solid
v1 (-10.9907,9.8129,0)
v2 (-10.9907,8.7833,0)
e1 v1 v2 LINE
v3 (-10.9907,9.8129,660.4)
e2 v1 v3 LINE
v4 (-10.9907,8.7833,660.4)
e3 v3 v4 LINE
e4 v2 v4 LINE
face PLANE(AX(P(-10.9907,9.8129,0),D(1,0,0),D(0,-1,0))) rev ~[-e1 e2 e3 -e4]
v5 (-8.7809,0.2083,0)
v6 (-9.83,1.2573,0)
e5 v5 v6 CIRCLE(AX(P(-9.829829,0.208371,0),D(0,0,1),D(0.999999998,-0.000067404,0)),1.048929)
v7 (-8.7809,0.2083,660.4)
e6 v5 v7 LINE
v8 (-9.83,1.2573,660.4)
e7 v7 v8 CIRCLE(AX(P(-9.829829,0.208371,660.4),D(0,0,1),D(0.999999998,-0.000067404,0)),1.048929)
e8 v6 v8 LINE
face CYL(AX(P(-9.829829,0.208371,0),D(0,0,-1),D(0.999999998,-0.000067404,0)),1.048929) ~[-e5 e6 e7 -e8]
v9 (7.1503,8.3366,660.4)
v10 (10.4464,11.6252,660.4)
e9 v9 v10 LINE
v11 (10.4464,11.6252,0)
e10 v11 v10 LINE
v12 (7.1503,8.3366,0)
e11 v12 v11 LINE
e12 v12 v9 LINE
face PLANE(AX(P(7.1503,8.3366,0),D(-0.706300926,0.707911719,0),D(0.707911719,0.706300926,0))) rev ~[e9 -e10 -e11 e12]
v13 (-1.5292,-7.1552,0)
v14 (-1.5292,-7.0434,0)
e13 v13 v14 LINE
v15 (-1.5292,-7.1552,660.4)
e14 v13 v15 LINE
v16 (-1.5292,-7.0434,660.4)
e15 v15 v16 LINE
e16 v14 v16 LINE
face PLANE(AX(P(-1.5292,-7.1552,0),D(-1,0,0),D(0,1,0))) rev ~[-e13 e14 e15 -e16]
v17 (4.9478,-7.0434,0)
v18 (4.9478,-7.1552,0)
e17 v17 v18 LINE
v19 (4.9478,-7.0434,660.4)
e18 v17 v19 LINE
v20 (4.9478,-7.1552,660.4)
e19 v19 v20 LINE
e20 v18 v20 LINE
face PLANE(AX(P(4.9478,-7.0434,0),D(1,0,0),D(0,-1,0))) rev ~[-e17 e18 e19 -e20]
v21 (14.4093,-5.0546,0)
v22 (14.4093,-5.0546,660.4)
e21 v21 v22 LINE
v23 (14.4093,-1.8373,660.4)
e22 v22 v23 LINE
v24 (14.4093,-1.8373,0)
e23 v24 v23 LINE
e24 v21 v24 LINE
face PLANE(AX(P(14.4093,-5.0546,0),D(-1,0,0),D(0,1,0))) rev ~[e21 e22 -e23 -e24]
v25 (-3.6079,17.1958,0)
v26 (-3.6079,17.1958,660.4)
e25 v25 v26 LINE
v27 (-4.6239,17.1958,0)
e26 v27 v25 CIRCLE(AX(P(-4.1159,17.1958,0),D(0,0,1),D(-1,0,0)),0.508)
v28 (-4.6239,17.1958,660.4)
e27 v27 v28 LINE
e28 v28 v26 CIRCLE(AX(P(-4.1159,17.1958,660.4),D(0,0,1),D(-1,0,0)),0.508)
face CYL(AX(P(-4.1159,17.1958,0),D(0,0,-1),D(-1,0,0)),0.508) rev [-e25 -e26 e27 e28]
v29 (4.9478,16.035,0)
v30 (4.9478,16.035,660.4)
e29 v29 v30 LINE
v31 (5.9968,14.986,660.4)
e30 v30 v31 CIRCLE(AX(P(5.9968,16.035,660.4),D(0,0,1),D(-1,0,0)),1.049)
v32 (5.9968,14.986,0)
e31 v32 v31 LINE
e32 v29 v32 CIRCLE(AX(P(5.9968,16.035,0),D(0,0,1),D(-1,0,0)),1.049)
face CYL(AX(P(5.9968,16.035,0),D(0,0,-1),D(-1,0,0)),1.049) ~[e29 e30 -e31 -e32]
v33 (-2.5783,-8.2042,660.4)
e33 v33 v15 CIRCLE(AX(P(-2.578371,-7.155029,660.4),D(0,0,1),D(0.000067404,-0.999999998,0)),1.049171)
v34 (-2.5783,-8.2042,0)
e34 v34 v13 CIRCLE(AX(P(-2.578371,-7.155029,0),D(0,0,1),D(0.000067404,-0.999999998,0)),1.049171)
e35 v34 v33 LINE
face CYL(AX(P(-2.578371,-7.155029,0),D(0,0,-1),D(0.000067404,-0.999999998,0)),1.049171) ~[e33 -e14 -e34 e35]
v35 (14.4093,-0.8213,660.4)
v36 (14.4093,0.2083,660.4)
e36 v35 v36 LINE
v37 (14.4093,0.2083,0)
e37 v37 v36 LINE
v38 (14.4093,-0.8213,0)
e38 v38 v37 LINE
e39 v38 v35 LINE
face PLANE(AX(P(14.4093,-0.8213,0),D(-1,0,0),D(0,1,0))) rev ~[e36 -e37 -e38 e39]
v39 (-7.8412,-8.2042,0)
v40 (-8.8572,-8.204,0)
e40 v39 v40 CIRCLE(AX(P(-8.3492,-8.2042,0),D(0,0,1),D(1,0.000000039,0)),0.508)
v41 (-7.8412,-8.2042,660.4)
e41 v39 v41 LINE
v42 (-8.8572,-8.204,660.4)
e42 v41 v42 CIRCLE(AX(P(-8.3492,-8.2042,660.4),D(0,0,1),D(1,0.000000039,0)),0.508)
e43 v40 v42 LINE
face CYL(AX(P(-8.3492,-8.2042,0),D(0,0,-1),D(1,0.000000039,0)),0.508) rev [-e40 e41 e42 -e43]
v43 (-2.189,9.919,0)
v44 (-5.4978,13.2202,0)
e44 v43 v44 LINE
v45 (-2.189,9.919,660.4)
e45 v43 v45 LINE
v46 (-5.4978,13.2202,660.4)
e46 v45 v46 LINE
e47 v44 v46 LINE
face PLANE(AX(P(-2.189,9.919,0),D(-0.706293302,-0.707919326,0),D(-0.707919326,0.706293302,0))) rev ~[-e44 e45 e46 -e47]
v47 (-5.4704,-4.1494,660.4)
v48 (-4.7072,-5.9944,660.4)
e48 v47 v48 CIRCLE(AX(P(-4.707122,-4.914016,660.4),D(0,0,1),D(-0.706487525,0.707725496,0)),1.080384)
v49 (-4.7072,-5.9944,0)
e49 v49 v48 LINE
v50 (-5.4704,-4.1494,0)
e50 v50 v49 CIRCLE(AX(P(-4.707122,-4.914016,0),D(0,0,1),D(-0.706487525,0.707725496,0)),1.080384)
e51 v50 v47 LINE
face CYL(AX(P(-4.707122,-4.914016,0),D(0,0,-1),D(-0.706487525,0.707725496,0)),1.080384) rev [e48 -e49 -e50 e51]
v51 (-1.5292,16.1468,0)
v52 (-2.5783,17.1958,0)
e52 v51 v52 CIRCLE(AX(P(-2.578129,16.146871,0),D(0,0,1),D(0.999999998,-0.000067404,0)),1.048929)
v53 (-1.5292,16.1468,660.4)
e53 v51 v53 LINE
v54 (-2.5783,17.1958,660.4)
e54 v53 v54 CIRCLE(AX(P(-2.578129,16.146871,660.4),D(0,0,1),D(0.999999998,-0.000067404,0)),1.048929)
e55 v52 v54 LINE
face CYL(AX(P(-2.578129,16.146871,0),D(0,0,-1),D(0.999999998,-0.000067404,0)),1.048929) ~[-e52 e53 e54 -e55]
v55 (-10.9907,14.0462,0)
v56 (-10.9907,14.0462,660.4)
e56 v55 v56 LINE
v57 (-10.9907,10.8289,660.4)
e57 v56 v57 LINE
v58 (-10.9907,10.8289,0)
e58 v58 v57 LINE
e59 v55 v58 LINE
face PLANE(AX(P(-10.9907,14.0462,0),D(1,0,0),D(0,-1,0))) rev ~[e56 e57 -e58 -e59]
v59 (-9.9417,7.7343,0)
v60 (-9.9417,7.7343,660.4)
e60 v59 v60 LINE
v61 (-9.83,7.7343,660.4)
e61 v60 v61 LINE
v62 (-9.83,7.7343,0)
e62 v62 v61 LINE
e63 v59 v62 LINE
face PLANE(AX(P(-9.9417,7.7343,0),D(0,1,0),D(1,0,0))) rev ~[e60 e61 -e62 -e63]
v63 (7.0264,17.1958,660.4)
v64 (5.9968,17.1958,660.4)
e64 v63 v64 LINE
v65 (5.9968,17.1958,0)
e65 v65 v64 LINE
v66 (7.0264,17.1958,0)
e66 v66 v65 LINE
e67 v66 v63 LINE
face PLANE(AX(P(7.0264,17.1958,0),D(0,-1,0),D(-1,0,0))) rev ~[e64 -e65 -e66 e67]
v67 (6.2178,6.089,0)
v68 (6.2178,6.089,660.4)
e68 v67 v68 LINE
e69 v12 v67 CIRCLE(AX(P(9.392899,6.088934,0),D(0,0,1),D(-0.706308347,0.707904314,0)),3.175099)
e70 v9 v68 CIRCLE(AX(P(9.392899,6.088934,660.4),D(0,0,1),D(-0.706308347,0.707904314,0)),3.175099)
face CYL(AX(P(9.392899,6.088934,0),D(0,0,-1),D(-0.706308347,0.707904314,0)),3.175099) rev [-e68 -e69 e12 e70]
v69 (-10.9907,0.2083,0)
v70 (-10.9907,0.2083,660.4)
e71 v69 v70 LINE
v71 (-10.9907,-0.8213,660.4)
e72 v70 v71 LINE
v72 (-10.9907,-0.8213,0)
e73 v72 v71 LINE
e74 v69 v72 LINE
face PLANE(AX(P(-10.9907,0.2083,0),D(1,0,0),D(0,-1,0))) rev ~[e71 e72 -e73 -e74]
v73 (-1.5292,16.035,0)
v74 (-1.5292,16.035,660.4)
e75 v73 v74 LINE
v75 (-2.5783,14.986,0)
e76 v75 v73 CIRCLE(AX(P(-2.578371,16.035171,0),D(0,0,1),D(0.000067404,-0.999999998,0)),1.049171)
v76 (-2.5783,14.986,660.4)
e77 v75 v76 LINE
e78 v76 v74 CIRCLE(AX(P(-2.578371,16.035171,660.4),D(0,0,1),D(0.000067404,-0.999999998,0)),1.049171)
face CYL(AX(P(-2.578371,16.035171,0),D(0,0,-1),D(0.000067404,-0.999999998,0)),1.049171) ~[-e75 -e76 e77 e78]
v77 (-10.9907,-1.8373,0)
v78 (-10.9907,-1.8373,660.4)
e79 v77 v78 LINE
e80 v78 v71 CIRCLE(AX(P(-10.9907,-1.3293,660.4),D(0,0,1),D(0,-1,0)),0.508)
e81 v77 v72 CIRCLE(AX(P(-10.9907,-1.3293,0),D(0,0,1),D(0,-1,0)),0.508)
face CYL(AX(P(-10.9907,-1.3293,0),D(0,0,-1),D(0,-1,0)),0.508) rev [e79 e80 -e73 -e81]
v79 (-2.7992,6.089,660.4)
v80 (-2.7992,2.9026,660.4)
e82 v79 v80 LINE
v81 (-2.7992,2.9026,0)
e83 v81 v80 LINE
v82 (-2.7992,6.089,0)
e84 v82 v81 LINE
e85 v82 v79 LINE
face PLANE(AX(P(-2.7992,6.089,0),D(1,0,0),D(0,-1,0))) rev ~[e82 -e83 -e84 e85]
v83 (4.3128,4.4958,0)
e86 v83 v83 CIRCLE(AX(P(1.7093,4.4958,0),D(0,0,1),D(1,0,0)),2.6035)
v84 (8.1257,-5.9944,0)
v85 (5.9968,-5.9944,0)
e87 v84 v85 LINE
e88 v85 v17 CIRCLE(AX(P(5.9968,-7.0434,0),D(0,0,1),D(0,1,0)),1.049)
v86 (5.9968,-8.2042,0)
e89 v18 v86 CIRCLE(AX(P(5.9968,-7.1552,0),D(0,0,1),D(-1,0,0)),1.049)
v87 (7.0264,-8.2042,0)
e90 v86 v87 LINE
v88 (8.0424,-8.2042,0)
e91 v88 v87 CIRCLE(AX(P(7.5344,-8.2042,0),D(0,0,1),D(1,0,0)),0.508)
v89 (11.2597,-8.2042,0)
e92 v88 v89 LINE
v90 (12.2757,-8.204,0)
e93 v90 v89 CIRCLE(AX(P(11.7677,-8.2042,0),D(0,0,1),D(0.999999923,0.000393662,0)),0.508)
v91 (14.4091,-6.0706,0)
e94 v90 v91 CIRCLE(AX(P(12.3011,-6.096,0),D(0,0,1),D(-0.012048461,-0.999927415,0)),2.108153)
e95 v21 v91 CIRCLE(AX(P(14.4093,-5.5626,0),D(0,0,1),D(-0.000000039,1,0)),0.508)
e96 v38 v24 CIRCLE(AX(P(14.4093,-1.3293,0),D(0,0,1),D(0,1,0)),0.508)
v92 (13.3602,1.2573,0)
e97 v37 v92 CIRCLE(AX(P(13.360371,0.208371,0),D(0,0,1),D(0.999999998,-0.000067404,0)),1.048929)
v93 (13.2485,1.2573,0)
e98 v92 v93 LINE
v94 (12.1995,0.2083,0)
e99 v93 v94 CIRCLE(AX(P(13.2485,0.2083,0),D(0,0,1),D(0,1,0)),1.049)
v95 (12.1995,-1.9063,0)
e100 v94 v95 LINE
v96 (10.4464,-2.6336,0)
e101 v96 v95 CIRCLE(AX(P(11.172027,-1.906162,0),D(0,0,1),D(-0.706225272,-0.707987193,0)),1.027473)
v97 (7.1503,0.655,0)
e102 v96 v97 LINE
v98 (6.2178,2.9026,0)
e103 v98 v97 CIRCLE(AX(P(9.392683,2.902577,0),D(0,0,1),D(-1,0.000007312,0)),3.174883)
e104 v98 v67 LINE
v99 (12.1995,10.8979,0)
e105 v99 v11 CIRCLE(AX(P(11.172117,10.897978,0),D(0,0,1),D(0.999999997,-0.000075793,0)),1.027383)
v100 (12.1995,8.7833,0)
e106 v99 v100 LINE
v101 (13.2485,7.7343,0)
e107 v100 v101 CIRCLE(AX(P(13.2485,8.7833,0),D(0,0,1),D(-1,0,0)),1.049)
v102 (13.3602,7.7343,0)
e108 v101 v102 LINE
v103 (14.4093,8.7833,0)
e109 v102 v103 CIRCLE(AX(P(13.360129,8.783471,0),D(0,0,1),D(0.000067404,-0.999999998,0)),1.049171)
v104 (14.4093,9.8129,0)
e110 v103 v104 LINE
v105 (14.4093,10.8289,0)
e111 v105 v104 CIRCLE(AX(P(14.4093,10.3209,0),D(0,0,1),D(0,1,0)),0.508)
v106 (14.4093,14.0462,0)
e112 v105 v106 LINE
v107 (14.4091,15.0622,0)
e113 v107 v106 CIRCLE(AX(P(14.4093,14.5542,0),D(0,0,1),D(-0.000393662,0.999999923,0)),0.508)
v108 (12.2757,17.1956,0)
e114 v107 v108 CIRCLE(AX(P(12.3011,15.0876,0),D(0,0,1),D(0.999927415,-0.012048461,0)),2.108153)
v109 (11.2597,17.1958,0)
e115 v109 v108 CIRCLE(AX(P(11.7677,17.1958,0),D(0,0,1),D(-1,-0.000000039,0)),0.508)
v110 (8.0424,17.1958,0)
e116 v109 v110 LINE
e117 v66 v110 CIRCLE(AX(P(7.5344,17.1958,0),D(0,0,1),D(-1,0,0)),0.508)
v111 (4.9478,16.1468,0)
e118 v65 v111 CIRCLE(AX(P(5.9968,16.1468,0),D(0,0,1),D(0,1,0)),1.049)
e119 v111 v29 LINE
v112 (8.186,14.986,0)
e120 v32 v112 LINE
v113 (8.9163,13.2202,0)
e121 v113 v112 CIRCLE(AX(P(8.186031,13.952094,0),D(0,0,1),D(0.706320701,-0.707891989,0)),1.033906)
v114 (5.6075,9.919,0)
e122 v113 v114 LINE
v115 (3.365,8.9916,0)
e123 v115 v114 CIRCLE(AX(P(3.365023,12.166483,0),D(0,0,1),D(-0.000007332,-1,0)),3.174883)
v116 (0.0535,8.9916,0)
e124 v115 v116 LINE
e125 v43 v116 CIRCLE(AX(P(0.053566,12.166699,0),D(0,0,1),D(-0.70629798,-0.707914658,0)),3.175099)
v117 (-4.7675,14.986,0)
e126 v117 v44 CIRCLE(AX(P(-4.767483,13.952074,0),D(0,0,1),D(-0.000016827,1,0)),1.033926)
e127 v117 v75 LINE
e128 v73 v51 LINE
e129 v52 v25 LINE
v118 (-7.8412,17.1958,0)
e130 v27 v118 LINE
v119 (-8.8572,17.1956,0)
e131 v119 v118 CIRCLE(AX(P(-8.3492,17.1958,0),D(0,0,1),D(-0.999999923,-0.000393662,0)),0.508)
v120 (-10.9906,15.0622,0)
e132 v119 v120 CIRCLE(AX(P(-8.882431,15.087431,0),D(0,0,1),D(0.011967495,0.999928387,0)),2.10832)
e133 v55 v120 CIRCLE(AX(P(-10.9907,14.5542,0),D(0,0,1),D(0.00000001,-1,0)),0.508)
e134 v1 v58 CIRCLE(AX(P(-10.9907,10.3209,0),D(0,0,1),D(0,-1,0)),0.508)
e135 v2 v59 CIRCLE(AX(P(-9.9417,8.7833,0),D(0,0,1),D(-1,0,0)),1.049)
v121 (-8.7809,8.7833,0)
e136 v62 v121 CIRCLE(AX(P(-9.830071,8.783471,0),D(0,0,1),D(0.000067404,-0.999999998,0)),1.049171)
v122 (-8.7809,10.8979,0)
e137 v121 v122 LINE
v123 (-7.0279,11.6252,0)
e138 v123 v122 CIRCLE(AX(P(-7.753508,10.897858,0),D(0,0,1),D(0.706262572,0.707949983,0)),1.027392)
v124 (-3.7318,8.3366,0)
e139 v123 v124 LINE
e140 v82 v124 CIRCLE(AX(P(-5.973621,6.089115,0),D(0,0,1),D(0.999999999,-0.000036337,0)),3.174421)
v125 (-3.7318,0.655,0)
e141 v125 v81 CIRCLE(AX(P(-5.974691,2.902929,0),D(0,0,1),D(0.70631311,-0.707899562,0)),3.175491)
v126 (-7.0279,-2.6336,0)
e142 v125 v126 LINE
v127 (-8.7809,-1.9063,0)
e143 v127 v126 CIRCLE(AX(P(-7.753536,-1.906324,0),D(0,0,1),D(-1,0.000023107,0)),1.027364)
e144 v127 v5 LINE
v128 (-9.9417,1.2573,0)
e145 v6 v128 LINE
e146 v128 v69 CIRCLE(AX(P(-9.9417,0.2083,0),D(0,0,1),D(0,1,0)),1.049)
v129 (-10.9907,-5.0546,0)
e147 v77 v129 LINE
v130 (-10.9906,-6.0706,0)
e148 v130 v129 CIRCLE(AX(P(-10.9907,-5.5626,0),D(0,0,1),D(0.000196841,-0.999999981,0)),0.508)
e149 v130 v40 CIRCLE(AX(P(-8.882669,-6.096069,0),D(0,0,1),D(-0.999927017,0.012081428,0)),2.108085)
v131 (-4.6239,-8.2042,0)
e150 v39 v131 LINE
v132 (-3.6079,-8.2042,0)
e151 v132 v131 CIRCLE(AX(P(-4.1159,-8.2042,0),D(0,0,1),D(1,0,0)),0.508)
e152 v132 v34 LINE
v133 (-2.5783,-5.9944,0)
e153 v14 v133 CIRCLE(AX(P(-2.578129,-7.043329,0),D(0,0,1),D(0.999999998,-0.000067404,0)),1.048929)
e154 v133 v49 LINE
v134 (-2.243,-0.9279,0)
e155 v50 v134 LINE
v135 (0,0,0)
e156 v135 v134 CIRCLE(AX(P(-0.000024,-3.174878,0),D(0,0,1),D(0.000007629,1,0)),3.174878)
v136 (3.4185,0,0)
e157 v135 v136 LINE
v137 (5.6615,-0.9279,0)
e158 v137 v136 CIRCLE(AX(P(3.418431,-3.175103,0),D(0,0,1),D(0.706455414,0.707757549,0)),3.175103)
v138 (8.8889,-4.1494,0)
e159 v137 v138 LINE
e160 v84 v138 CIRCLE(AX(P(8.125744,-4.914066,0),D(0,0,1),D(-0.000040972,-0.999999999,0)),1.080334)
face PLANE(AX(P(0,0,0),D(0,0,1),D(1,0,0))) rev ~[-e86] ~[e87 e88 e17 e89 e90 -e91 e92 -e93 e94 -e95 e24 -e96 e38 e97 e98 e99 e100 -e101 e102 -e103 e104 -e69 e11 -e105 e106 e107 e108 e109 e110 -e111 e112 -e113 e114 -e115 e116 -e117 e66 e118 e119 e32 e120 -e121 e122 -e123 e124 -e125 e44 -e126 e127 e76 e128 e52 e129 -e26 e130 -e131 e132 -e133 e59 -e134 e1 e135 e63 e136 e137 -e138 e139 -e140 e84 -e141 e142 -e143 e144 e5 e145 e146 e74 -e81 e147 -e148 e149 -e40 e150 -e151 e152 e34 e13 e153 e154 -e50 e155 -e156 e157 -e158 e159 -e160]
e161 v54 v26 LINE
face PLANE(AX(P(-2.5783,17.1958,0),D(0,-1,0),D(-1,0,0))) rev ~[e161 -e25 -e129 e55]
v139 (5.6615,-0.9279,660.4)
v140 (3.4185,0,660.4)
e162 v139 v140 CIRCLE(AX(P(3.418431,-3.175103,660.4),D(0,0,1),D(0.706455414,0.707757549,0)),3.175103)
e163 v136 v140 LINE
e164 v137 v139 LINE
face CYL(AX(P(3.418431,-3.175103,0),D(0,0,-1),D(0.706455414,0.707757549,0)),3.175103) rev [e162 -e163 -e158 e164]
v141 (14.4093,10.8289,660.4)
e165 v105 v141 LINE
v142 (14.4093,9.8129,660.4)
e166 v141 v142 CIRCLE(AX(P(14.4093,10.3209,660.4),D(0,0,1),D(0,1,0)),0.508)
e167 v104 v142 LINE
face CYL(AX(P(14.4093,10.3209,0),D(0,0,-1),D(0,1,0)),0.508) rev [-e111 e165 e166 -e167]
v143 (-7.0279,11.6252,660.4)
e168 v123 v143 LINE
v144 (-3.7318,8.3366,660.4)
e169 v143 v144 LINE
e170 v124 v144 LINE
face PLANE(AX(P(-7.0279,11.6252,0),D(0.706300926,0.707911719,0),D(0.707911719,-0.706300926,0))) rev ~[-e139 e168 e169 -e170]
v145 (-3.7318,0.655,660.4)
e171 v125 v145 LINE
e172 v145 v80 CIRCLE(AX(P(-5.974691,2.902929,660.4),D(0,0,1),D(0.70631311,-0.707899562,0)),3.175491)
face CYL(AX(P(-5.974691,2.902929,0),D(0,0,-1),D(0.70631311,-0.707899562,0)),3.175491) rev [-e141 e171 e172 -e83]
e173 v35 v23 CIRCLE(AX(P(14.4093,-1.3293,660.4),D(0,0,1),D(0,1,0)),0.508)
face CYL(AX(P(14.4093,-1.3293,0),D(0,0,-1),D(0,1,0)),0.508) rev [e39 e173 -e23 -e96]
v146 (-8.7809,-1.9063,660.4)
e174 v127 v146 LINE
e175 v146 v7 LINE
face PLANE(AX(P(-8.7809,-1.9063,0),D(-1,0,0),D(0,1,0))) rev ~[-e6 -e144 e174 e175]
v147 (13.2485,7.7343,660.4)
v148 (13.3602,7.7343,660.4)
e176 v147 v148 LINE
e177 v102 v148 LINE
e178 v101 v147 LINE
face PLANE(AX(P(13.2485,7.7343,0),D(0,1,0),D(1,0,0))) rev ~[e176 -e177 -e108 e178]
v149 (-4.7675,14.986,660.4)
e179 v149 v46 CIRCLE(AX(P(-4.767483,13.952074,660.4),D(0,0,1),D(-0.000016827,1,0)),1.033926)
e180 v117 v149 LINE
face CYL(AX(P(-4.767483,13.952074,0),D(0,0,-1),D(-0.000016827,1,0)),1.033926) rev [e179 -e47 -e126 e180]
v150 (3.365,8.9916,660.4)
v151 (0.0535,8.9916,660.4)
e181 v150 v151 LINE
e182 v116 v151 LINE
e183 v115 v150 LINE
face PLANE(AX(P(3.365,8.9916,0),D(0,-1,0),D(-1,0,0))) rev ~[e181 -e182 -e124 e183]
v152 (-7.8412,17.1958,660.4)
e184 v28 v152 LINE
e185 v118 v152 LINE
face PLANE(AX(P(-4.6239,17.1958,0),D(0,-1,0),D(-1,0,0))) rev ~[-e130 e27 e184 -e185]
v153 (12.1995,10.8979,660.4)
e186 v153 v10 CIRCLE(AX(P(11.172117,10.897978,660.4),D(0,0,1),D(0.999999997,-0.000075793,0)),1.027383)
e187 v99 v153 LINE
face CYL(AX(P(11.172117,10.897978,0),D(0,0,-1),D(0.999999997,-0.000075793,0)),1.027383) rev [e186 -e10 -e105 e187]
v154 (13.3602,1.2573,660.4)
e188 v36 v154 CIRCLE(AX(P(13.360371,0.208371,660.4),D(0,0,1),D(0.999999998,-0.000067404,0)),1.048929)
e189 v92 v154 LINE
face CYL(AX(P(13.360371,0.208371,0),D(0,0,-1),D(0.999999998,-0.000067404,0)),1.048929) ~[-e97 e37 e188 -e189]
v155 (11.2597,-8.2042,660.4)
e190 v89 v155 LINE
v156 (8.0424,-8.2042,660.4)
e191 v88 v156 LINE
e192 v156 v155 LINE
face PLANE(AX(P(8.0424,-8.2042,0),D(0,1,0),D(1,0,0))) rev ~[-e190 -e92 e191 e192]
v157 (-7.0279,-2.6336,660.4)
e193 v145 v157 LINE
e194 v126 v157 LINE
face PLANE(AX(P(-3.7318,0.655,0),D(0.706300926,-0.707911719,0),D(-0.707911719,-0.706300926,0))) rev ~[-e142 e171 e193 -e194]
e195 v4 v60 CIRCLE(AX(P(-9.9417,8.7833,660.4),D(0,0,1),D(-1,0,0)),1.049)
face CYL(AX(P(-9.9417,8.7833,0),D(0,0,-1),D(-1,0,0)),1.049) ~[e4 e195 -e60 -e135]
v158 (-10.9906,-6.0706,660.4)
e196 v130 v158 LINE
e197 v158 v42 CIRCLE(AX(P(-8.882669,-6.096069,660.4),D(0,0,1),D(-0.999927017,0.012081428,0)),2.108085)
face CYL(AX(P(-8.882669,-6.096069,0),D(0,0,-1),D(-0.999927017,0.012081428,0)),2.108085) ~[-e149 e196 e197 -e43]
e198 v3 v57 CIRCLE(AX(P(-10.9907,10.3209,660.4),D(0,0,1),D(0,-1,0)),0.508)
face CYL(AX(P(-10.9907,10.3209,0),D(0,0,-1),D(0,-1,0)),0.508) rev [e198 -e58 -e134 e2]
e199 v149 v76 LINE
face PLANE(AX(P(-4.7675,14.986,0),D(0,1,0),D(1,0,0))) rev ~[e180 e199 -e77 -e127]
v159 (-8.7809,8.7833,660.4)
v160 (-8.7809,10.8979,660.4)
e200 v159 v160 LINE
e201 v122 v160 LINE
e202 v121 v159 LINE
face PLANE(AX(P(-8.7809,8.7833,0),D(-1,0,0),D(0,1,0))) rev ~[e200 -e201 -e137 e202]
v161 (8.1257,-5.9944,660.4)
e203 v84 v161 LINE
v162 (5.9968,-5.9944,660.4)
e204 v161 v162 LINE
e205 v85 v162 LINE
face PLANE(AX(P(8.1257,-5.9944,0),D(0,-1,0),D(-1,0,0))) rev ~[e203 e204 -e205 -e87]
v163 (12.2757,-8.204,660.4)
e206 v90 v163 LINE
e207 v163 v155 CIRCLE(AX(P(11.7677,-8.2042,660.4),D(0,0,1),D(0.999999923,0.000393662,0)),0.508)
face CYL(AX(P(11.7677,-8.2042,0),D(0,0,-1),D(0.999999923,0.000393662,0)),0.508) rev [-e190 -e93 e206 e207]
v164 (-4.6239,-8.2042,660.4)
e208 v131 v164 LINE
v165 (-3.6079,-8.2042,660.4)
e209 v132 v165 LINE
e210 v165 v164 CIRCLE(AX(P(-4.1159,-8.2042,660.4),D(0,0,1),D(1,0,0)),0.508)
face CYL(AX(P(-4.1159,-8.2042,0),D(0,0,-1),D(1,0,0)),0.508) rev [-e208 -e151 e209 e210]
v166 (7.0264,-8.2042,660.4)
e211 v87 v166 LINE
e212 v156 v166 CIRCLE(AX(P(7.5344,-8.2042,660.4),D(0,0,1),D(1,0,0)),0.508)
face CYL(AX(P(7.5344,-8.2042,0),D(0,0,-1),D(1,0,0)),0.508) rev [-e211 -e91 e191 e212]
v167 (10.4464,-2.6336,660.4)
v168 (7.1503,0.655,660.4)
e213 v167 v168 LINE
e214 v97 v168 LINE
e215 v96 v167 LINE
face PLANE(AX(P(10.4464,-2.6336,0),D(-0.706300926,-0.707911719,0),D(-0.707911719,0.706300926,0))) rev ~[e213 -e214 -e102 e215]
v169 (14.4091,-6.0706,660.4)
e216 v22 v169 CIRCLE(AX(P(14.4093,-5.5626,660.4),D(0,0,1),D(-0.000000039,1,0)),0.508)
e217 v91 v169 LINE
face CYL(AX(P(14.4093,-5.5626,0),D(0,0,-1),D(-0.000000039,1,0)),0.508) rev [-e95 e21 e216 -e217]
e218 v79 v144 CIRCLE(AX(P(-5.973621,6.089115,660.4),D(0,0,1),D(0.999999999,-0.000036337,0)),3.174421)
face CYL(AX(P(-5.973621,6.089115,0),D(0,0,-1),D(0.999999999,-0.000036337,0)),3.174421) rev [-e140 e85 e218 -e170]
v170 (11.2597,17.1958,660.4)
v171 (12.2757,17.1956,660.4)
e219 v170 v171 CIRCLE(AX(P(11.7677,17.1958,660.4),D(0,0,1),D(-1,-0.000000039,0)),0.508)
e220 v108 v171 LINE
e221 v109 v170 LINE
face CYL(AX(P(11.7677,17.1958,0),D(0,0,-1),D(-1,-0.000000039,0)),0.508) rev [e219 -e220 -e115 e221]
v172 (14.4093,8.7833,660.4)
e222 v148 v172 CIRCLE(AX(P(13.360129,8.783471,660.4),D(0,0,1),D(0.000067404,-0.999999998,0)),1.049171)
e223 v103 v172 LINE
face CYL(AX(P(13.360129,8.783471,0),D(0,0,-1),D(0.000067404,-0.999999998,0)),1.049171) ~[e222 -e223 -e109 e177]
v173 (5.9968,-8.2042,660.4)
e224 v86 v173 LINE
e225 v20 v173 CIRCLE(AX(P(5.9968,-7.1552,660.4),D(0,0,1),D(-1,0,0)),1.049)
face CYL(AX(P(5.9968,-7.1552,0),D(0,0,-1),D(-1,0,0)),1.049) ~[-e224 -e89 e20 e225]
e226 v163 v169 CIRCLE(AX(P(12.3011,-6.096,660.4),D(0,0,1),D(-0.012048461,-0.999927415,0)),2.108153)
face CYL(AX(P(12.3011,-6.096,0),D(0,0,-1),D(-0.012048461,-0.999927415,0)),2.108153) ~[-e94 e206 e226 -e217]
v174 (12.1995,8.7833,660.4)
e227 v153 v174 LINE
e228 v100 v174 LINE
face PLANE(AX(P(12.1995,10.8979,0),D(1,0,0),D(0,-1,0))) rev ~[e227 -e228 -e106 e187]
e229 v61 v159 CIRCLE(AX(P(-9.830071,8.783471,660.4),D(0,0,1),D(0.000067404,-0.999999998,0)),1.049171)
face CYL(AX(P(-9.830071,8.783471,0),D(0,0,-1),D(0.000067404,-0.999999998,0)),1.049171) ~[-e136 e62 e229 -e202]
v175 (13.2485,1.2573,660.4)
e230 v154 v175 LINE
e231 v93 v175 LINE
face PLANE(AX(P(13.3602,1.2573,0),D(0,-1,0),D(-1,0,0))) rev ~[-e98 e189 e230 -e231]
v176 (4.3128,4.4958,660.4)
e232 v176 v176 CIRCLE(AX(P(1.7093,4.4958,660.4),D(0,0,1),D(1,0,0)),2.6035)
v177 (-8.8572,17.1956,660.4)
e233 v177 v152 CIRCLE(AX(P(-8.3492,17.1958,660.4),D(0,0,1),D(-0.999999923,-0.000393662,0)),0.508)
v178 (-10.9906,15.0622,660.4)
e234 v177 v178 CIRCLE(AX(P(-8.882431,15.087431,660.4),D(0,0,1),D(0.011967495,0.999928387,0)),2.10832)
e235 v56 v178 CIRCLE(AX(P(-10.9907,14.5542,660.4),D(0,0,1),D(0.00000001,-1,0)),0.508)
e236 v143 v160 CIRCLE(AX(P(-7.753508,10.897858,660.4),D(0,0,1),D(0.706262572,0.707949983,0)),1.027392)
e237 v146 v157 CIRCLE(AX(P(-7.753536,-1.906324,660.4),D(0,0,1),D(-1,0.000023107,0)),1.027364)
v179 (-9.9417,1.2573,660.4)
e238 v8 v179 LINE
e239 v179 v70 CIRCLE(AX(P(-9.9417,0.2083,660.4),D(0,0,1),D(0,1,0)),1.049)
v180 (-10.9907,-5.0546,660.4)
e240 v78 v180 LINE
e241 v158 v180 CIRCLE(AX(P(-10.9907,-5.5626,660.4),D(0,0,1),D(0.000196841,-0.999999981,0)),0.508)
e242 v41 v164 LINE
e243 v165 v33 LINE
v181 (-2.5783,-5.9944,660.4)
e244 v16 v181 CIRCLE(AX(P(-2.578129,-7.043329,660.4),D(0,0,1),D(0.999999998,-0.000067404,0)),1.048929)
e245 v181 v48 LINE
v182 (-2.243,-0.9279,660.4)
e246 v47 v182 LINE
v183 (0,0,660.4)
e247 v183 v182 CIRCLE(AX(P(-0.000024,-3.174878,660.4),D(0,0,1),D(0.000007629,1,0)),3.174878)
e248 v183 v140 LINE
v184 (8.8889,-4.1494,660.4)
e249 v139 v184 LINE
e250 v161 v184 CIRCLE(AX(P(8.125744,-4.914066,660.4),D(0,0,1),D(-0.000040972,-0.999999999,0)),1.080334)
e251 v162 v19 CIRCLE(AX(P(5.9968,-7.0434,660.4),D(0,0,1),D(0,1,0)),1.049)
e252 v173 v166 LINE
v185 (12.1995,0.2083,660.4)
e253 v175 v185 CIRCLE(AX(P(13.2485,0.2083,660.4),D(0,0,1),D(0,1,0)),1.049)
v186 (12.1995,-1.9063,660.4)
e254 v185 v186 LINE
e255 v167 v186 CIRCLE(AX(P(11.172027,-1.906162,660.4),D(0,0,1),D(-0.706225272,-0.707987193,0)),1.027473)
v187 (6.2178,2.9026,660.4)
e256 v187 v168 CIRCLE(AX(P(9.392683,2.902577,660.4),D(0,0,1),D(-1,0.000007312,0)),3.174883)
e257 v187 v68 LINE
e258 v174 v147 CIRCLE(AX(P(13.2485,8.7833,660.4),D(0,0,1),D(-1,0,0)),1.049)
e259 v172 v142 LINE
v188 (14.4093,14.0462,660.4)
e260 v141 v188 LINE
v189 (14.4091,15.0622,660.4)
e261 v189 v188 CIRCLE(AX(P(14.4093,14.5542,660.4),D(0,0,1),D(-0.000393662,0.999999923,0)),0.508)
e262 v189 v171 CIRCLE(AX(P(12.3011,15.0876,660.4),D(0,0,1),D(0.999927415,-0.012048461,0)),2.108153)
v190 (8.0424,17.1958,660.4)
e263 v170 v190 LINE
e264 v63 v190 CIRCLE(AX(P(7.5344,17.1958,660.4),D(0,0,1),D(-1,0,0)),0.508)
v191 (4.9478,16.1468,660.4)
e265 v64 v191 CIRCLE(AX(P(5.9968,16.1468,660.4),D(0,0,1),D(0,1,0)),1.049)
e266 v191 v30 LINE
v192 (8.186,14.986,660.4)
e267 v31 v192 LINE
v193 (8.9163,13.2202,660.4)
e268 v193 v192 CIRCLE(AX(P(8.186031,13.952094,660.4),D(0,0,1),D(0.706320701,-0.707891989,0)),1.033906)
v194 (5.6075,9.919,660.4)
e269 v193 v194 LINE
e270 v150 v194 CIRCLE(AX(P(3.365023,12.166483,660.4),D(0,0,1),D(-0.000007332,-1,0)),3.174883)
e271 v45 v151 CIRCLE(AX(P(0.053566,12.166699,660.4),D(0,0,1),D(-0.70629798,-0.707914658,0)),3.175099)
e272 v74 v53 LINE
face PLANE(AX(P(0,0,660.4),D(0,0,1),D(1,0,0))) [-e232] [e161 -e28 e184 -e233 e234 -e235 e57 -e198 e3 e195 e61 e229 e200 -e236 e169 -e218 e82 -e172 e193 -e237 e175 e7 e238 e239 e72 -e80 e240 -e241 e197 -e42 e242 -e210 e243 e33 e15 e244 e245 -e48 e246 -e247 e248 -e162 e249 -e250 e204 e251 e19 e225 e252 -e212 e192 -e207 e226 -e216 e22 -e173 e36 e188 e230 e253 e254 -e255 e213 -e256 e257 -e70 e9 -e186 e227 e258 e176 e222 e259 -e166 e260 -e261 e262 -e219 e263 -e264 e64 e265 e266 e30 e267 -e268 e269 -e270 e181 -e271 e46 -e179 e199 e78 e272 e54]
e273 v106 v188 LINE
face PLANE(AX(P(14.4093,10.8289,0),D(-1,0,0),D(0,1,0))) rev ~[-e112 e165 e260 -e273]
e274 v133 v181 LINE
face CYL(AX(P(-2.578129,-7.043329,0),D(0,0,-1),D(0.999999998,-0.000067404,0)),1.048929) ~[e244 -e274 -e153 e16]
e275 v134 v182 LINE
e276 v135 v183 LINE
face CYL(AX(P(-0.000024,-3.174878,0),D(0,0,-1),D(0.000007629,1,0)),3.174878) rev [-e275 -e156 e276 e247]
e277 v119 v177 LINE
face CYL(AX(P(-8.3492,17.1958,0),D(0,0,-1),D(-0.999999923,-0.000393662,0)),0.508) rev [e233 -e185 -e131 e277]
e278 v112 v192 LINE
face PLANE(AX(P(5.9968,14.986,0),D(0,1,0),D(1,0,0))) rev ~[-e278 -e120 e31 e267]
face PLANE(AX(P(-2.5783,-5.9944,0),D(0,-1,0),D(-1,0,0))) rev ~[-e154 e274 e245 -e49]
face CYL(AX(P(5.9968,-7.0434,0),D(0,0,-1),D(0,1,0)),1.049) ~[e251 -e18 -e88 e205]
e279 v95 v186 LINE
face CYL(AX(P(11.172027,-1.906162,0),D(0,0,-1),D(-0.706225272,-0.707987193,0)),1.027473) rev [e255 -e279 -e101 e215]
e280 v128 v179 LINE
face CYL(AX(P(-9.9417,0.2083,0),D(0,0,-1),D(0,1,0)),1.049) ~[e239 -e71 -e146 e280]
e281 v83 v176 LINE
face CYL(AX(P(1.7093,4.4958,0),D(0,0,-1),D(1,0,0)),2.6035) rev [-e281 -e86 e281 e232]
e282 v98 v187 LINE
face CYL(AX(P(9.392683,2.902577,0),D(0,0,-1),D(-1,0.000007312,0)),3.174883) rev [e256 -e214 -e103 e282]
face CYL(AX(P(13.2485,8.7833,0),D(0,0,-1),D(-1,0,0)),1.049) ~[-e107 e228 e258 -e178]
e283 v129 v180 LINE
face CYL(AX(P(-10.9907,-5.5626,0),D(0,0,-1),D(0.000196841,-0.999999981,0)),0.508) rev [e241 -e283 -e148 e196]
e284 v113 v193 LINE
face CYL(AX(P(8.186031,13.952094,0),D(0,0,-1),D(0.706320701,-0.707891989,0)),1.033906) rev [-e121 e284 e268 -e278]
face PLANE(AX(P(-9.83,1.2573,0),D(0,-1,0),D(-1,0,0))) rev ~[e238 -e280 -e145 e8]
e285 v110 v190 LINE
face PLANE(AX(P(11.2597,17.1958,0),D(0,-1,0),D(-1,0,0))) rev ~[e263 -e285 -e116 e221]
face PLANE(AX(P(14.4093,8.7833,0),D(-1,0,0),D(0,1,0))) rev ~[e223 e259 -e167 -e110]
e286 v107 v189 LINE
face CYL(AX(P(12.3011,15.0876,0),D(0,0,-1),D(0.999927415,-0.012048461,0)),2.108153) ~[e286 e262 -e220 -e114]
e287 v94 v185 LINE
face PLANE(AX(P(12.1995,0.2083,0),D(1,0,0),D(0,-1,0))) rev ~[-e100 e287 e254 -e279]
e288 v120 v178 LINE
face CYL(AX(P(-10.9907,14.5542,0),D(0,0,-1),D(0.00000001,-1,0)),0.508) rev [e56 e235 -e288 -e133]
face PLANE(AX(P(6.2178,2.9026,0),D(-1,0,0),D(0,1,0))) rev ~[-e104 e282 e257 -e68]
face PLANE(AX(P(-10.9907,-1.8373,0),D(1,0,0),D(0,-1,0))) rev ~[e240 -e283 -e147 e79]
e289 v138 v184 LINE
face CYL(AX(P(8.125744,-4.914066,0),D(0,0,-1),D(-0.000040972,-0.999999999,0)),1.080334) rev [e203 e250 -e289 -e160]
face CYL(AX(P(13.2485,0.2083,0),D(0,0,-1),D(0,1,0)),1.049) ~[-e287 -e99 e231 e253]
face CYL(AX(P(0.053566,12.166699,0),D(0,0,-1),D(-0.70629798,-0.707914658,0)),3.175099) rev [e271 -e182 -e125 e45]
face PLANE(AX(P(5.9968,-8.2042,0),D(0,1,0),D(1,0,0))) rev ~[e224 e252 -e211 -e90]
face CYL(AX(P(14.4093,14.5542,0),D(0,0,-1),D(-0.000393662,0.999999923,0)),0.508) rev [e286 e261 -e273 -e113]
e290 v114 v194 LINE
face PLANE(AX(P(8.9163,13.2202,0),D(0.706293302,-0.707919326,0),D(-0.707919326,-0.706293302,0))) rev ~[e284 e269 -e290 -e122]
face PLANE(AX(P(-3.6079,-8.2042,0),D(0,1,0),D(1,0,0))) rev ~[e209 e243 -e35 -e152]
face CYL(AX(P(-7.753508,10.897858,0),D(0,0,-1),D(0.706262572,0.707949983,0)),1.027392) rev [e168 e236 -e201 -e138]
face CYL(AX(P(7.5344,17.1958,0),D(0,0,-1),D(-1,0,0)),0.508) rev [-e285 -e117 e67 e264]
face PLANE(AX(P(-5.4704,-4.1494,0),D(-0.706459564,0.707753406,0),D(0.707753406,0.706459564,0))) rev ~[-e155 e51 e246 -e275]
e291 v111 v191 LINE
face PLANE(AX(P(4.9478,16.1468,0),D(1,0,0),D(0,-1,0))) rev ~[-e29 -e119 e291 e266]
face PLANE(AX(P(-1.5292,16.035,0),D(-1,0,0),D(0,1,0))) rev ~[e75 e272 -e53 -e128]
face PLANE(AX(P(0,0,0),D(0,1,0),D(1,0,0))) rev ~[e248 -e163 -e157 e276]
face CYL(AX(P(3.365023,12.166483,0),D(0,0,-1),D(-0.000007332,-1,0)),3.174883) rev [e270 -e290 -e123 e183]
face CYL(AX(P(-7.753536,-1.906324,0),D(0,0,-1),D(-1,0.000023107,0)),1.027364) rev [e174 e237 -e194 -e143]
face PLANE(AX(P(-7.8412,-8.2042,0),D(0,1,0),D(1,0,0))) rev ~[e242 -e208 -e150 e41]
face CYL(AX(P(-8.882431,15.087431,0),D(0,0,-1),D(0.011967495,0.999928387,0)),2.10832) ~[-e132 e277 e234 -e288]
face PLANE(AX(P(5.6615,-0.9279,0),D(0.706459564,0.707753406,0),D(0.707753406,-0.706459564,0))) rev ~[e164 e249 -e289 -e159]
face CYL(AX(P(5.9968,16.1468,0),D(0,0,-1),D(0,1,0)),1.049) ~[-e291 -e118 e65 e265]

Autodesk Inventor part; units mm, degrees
ref_plane "YZ Plane" through (0, 0, 0) normal (1, 0, 0) x (0, 1, 0)
ref_plane "XZ Plane" through (0, 0, 0) normal (0, 1, 0) x (-1, 0, 0)
ref_plane "XY Plane" through (0, 0, 0) normal (0, 0, 1) x (1, 0, 0)
sketch "Sketch1" plane through (0, 0, 0) normal (0, 0, 1) x (1, 0, 0)
  arc A0 (-5.4704, -4.1494) -> (-4.7072, -5.9944) centre (-4.7072, -4.914) ccw
  line L0 (-5.4704, -4.1494) -> (-2.243, -0.9279)
  arc A1 (0, 0) -> (-2.243, -0.9279) centre (0, -3.175) ccw
  line L1 (0, 0) -> (3.4185, 0)
  arc A2 (5.6615, -0.9279) -> (3.4185, 0) centre (3.4185, -3.175) ccw
  line L2 (5.6615, -0.9279) -> (8.8889, -4.1494)
  arc A3 (8.1257, -5.9944) -> (8.8889, -4.1494) centre (8.1257, -4.914) ccw
  line L3 (8.1257, -5.9944) -> (5.9968, -5.9944)
  arc A4 (5.9968, -5.9944) -> (4.9478, -7.0434) centre (5.9968, -7.0434) ccw
  line L4 (4.9478, -7.0434) -> (4.9478, -7.1552)
  arc A5 (4.9478, -7.1552) -> (5.9968, -8.2042) centre (5.9968, -7.1552) ccw
  line L5 (5.9968, -8.2042) -> (7.0264, -8.2042)
  arc A6 (8.0424, -8.2042) -> (7.0264, -8.2042) centre (7.5344, -8.2042) ccw
  line L6 (8.0424, -8.2042) -> (11.2597, -8.2042)
  arc A7 (12.2757, -8.204) -> (11.2597, -8.2042) centre (11.7677, -8.2042) ccw
  arc A8 (12.2757, -8.204) -> (14.4091, -6.0706) centre (12.3011, -6.096) ccw
  arc A9 (14.4093, -5.0546) -> (14.4091, -6.0706) centre (14.4093, -5.5626) ccw
  line L7 (14.4093, -5.0546) -> (14.4093, -1.8373)
  arc A10 (14.4093, -0.8213) -> (14.4093, -1.8373) centre (14.4093, -1.3293) ccw
  line L8 (14.4093, -0.8213) -> (14.4093, 0.2083)
  arc A11 (14.4093, 0.2083) -> (13.3602, 1.2573) centre (13.3602, 0.2083) ccw
  line L9 (13.3602, 1.2573) -> (13.2485, 1.2573)
  arc A12 (13.2485, 1.2573) -> (12.1995, 0.2083) centre (13.2485, 0.2083) ccw
  line L10 (12.1995, 0.2083) -> (12.1995, -1.9063)
  arc A13 (10.4464, -2.6336) -> (12.1995, -1.9063) centre (11.172, -1.9063) ccw
  line L11 (10.4464, -2.6336) -> (7.1503, 0.655)
  arc A14 (6.2178, 2.9026) -> (7.1503, 0.655) centre (9.3928, 2.9026) ccw
  line L12 (6.2178, 2.9026) -> (6.2178, 6.089)
  arc A15 (7.1503, 8.3366) -> (6.2178, 6.089) centre (9.3928, 6.089) ccw
  line L13 (7.1503, 8.3366) -> (10.4464, 11.6252)
  arc A16 (12.1995, 10.8979) -> (10.4464, 11.6252) centre (11.172, 10.8979) ccw
  line L14 (12.1995, 10.8979) -> (12.1995, 8.7833)
  arc A17 (12.1995, 8.7833) -> (13.2485, 7.7343) centre (13.2485, 8.7833) ccw
  line L15 (13.2485, 7.7343) -> (13.3602, 7.7343)
  arc A18 (13.3602, 7.7343) -> (14.4093, 8.7833) centre (13.3602, 8.7833) ccw
  line L16 (14.4093, 8.7833) -> (14.4093, 9.8129)
  arc A19 (14.4093, 10.8289) -> (14.4093, 9.8129) centre (14.4093, 10.3209) ccw
  line L17 (14.4093, 10.8289) -> (14.4093, 14.0462)
  arc A20 (14.4091, 15.0622) -> (14.4093, 14.0462) centre (14.4093, 14.5542) ccw
  arc A21 (14.4091, 15.0622) -> (12.2757, 17.1956) centre (12.3011, 15.0876) ccw
  arc A22 (11.2597, 17.1958) -> (12.2757, 17.1956) centre (11.7677, 17.1958) ccw
  line L18 (11.2597, 17.1958) -> (8.0424, 17.1958)
  arc A23 (7.0264, 17.1958) -> (8.0424, 17.1958) centre (7.5344, 17.1958) ccw
  line L19 (7.0264, 17.1958) -> (5.9968, 17.1958)
  arc A24 (5.9968, 17.1958) -> (4.9478, 16.1468) centre (5.9968, 16.1468) ccw
  line L20 (4.9478, 16.1468) -> (4.9478, 16.035)
  arc A25 (4.9478, 16.035) -> (5.9968, 14.986) centre (5.9968, 16.035) ccw
  line L21 (5.9968, 14.986) -> (8.186, 14.986)
  arc A26 (8.9163, 13.2202) -> (8.186, 14.986) centre (8.186, 13.9521) ccw
  line L22 (8.9163, 13.2202) -> (5.6075, 9.919)
  arc A27 (3.365, 8.9916) -> (5.6075, 9.919) centre (3.365, 12.1666) ccw
  line L23 (3.365, 8.9916) -> (0.0535, 8.9916)
  arc A28 (-2.189, 9.919) -> (0.0535, 8.9916) centre (0.0535, 12.1666) ccw
  line L24 (-2.189, 9.919) -> (-5.4978, 13.2202)
  arc A29 (-4.7675, 14.986) -> (-5.4978, 13.2202) centre (-4.7675, 13.9521) ccw
  line L25 (-4.7675, 14.986) -> (-2.5783, 14.986)
  arc A30 (-2.5783, 14.986) -> (-1.5292, 16.035) centre (-2.5783, 16.035) ccw
  line L26 (-1.5292, 16.035) -> (-1.5292, 16.1468)
  arc A31 (-1.5292, 16.1468) -> (-2.5783, 17.1958) centre (-2.5783, 16.1468) ccw
  line L27 (-2.5783, 17.1958) -> (-3.6079, 17.1958)
  arc A32 (-4.6239, 17.1958) -> (-3.6079, 17.1958) centre (-4.1159, 17.1958) ccw
  line L28 (-4.6239, 17.1958) -> (-7.8412, 17.1958)
  arc A33 (-8.8572, 17.1956) -> (-7.8412, 17.1958) centre (-8.3492, 17.1958) ccw
  arc A34 (-8.8572, 17.1956) -> (-10.9906, 15.0622) centre (-8.8825, 15.0876) ccw
  arc A35 (-10.9907, 14.0462) -> (-10.9906, 15.0622) centre (-10.9907, 14.5542) ccw
  line L29 (-10.9907, 14.0462) -> (-10.9907, 10.8289)
  arc A36 (-10.9907, 9.8129) -> (-10.9907, 10.8289) centre (-10.9907, 10.3209) ccw
  line L30 (-10.9907, 9.8129) -> (-10.9907, 8.7833)
  arc A37 (-10.9907, 8.7833) -> (-9.9417, 7.7343) centre (-9.9417, 8.7833) ccw
  line L31 (-9.9417, 7.7343) -> (-9.83, 7.7343)
  arc A38 (-9.83, 7.7343) -> (-8.7809, 8.7833) centre (-9.83, 8.7833) ccw
  line L32 (-8.7809, 8.7833) -> (-8.7809, 10.8979)
  arc A39 (-7.0279, 11.6252) -> (-8.7809, 10.8979) centre (-7.7535, 10.8979) ccw
  line L33 (-7.0279, 11.6252) -> (-3.7318, 8.3366)
  arc A40 (-2.7992, 6.089) -> (-3.7318, 8.3366) centre (-5.9742, 6.089) ccw
  line L34 (-2.7992, 6.089) -> (-2.7992, 2.9026)
  arc A41 (-3.7318, 0.655) -> (-2.7992, 2.9026) centre (-5.9742, 2.9026) ccw
  line L35 (-3.7318, 0.655) -> (-7.0279, -2.6336)
  arc A42 (-8.7809, -1.9063) -> (-7.0279, -2.6336) centre (-7.7535, -1.9063) ccw
  line L36 (-8.7809, -1.9063) -> (-8.7809, 0.2083)
  arc A43 (-8.7809, 0.2083) -> (-9.83, 1.2573) centre (-9.83, 0.2083) ccw
  line L37 (-9.83, 1.2573) -> (-9.9417, 1.2573)
  arc A44 (-9.9417, 1.2573) -> (-10.9907, 0.2083) centre (-9.9417, 0.2083) ccw
  line L38 (-10.9907, 0.2083) -> (-10.9907, -0.8213)
  arc A45 (-10.9907, -1.8373) -> (-10.9907, -0.8213) centre (-10.9907, -1.3293) ccw
  line L39 (-10.9907, -1.8373) -> (-10.9907, -5.0546)
  arc A46 (-10.9906, -6.0706) -> (-10.9907, -5.0546) centre (-10.9907, -5.5626) ccw
  arc A47 (-10.9906, -6.0706) -> (-8.8572, -8.204) centre (-8.8825, -6.096) ccw
  arc A48 (-7.8412, -8.2042) -> (-8.8572, -8.204) centre (-8.3492, -8.2042) ccw
  line L40 (-7.8412, -8.2042) -> (-4.6239, -8.2042)
  arc A49 (-3.6079, -8.2042) -> (-4.6239, -8.2042) centre (-4.1159, -8.2042) ccw
  line L41 (-3.6079, -8.2042) -> (-2.5783, -8.2042)
  arc A50 (-2.5783, -8.2042) -> (-1.5292, -7.1552) centre (-2.5783, -7.1552) ccw
  line L42 (-1.5292, -7.1552) -> (-1.5292, -7.0434)
  arc A51 (-1.5292, -7.0434) -> (-2.5783, -5.9944) centre (-2.5783, -7.0434) ccw
  line L43 (-2.5783, -5.9944) -> (-4.7072, -5.9944)
  circle A52 centre (1.7093, 4.4958) radius 2.6035
extrude "Extrusion1" add sketch "Sketch1" along normal blind 660.4
properties part number "26in 1x1 T slot"
